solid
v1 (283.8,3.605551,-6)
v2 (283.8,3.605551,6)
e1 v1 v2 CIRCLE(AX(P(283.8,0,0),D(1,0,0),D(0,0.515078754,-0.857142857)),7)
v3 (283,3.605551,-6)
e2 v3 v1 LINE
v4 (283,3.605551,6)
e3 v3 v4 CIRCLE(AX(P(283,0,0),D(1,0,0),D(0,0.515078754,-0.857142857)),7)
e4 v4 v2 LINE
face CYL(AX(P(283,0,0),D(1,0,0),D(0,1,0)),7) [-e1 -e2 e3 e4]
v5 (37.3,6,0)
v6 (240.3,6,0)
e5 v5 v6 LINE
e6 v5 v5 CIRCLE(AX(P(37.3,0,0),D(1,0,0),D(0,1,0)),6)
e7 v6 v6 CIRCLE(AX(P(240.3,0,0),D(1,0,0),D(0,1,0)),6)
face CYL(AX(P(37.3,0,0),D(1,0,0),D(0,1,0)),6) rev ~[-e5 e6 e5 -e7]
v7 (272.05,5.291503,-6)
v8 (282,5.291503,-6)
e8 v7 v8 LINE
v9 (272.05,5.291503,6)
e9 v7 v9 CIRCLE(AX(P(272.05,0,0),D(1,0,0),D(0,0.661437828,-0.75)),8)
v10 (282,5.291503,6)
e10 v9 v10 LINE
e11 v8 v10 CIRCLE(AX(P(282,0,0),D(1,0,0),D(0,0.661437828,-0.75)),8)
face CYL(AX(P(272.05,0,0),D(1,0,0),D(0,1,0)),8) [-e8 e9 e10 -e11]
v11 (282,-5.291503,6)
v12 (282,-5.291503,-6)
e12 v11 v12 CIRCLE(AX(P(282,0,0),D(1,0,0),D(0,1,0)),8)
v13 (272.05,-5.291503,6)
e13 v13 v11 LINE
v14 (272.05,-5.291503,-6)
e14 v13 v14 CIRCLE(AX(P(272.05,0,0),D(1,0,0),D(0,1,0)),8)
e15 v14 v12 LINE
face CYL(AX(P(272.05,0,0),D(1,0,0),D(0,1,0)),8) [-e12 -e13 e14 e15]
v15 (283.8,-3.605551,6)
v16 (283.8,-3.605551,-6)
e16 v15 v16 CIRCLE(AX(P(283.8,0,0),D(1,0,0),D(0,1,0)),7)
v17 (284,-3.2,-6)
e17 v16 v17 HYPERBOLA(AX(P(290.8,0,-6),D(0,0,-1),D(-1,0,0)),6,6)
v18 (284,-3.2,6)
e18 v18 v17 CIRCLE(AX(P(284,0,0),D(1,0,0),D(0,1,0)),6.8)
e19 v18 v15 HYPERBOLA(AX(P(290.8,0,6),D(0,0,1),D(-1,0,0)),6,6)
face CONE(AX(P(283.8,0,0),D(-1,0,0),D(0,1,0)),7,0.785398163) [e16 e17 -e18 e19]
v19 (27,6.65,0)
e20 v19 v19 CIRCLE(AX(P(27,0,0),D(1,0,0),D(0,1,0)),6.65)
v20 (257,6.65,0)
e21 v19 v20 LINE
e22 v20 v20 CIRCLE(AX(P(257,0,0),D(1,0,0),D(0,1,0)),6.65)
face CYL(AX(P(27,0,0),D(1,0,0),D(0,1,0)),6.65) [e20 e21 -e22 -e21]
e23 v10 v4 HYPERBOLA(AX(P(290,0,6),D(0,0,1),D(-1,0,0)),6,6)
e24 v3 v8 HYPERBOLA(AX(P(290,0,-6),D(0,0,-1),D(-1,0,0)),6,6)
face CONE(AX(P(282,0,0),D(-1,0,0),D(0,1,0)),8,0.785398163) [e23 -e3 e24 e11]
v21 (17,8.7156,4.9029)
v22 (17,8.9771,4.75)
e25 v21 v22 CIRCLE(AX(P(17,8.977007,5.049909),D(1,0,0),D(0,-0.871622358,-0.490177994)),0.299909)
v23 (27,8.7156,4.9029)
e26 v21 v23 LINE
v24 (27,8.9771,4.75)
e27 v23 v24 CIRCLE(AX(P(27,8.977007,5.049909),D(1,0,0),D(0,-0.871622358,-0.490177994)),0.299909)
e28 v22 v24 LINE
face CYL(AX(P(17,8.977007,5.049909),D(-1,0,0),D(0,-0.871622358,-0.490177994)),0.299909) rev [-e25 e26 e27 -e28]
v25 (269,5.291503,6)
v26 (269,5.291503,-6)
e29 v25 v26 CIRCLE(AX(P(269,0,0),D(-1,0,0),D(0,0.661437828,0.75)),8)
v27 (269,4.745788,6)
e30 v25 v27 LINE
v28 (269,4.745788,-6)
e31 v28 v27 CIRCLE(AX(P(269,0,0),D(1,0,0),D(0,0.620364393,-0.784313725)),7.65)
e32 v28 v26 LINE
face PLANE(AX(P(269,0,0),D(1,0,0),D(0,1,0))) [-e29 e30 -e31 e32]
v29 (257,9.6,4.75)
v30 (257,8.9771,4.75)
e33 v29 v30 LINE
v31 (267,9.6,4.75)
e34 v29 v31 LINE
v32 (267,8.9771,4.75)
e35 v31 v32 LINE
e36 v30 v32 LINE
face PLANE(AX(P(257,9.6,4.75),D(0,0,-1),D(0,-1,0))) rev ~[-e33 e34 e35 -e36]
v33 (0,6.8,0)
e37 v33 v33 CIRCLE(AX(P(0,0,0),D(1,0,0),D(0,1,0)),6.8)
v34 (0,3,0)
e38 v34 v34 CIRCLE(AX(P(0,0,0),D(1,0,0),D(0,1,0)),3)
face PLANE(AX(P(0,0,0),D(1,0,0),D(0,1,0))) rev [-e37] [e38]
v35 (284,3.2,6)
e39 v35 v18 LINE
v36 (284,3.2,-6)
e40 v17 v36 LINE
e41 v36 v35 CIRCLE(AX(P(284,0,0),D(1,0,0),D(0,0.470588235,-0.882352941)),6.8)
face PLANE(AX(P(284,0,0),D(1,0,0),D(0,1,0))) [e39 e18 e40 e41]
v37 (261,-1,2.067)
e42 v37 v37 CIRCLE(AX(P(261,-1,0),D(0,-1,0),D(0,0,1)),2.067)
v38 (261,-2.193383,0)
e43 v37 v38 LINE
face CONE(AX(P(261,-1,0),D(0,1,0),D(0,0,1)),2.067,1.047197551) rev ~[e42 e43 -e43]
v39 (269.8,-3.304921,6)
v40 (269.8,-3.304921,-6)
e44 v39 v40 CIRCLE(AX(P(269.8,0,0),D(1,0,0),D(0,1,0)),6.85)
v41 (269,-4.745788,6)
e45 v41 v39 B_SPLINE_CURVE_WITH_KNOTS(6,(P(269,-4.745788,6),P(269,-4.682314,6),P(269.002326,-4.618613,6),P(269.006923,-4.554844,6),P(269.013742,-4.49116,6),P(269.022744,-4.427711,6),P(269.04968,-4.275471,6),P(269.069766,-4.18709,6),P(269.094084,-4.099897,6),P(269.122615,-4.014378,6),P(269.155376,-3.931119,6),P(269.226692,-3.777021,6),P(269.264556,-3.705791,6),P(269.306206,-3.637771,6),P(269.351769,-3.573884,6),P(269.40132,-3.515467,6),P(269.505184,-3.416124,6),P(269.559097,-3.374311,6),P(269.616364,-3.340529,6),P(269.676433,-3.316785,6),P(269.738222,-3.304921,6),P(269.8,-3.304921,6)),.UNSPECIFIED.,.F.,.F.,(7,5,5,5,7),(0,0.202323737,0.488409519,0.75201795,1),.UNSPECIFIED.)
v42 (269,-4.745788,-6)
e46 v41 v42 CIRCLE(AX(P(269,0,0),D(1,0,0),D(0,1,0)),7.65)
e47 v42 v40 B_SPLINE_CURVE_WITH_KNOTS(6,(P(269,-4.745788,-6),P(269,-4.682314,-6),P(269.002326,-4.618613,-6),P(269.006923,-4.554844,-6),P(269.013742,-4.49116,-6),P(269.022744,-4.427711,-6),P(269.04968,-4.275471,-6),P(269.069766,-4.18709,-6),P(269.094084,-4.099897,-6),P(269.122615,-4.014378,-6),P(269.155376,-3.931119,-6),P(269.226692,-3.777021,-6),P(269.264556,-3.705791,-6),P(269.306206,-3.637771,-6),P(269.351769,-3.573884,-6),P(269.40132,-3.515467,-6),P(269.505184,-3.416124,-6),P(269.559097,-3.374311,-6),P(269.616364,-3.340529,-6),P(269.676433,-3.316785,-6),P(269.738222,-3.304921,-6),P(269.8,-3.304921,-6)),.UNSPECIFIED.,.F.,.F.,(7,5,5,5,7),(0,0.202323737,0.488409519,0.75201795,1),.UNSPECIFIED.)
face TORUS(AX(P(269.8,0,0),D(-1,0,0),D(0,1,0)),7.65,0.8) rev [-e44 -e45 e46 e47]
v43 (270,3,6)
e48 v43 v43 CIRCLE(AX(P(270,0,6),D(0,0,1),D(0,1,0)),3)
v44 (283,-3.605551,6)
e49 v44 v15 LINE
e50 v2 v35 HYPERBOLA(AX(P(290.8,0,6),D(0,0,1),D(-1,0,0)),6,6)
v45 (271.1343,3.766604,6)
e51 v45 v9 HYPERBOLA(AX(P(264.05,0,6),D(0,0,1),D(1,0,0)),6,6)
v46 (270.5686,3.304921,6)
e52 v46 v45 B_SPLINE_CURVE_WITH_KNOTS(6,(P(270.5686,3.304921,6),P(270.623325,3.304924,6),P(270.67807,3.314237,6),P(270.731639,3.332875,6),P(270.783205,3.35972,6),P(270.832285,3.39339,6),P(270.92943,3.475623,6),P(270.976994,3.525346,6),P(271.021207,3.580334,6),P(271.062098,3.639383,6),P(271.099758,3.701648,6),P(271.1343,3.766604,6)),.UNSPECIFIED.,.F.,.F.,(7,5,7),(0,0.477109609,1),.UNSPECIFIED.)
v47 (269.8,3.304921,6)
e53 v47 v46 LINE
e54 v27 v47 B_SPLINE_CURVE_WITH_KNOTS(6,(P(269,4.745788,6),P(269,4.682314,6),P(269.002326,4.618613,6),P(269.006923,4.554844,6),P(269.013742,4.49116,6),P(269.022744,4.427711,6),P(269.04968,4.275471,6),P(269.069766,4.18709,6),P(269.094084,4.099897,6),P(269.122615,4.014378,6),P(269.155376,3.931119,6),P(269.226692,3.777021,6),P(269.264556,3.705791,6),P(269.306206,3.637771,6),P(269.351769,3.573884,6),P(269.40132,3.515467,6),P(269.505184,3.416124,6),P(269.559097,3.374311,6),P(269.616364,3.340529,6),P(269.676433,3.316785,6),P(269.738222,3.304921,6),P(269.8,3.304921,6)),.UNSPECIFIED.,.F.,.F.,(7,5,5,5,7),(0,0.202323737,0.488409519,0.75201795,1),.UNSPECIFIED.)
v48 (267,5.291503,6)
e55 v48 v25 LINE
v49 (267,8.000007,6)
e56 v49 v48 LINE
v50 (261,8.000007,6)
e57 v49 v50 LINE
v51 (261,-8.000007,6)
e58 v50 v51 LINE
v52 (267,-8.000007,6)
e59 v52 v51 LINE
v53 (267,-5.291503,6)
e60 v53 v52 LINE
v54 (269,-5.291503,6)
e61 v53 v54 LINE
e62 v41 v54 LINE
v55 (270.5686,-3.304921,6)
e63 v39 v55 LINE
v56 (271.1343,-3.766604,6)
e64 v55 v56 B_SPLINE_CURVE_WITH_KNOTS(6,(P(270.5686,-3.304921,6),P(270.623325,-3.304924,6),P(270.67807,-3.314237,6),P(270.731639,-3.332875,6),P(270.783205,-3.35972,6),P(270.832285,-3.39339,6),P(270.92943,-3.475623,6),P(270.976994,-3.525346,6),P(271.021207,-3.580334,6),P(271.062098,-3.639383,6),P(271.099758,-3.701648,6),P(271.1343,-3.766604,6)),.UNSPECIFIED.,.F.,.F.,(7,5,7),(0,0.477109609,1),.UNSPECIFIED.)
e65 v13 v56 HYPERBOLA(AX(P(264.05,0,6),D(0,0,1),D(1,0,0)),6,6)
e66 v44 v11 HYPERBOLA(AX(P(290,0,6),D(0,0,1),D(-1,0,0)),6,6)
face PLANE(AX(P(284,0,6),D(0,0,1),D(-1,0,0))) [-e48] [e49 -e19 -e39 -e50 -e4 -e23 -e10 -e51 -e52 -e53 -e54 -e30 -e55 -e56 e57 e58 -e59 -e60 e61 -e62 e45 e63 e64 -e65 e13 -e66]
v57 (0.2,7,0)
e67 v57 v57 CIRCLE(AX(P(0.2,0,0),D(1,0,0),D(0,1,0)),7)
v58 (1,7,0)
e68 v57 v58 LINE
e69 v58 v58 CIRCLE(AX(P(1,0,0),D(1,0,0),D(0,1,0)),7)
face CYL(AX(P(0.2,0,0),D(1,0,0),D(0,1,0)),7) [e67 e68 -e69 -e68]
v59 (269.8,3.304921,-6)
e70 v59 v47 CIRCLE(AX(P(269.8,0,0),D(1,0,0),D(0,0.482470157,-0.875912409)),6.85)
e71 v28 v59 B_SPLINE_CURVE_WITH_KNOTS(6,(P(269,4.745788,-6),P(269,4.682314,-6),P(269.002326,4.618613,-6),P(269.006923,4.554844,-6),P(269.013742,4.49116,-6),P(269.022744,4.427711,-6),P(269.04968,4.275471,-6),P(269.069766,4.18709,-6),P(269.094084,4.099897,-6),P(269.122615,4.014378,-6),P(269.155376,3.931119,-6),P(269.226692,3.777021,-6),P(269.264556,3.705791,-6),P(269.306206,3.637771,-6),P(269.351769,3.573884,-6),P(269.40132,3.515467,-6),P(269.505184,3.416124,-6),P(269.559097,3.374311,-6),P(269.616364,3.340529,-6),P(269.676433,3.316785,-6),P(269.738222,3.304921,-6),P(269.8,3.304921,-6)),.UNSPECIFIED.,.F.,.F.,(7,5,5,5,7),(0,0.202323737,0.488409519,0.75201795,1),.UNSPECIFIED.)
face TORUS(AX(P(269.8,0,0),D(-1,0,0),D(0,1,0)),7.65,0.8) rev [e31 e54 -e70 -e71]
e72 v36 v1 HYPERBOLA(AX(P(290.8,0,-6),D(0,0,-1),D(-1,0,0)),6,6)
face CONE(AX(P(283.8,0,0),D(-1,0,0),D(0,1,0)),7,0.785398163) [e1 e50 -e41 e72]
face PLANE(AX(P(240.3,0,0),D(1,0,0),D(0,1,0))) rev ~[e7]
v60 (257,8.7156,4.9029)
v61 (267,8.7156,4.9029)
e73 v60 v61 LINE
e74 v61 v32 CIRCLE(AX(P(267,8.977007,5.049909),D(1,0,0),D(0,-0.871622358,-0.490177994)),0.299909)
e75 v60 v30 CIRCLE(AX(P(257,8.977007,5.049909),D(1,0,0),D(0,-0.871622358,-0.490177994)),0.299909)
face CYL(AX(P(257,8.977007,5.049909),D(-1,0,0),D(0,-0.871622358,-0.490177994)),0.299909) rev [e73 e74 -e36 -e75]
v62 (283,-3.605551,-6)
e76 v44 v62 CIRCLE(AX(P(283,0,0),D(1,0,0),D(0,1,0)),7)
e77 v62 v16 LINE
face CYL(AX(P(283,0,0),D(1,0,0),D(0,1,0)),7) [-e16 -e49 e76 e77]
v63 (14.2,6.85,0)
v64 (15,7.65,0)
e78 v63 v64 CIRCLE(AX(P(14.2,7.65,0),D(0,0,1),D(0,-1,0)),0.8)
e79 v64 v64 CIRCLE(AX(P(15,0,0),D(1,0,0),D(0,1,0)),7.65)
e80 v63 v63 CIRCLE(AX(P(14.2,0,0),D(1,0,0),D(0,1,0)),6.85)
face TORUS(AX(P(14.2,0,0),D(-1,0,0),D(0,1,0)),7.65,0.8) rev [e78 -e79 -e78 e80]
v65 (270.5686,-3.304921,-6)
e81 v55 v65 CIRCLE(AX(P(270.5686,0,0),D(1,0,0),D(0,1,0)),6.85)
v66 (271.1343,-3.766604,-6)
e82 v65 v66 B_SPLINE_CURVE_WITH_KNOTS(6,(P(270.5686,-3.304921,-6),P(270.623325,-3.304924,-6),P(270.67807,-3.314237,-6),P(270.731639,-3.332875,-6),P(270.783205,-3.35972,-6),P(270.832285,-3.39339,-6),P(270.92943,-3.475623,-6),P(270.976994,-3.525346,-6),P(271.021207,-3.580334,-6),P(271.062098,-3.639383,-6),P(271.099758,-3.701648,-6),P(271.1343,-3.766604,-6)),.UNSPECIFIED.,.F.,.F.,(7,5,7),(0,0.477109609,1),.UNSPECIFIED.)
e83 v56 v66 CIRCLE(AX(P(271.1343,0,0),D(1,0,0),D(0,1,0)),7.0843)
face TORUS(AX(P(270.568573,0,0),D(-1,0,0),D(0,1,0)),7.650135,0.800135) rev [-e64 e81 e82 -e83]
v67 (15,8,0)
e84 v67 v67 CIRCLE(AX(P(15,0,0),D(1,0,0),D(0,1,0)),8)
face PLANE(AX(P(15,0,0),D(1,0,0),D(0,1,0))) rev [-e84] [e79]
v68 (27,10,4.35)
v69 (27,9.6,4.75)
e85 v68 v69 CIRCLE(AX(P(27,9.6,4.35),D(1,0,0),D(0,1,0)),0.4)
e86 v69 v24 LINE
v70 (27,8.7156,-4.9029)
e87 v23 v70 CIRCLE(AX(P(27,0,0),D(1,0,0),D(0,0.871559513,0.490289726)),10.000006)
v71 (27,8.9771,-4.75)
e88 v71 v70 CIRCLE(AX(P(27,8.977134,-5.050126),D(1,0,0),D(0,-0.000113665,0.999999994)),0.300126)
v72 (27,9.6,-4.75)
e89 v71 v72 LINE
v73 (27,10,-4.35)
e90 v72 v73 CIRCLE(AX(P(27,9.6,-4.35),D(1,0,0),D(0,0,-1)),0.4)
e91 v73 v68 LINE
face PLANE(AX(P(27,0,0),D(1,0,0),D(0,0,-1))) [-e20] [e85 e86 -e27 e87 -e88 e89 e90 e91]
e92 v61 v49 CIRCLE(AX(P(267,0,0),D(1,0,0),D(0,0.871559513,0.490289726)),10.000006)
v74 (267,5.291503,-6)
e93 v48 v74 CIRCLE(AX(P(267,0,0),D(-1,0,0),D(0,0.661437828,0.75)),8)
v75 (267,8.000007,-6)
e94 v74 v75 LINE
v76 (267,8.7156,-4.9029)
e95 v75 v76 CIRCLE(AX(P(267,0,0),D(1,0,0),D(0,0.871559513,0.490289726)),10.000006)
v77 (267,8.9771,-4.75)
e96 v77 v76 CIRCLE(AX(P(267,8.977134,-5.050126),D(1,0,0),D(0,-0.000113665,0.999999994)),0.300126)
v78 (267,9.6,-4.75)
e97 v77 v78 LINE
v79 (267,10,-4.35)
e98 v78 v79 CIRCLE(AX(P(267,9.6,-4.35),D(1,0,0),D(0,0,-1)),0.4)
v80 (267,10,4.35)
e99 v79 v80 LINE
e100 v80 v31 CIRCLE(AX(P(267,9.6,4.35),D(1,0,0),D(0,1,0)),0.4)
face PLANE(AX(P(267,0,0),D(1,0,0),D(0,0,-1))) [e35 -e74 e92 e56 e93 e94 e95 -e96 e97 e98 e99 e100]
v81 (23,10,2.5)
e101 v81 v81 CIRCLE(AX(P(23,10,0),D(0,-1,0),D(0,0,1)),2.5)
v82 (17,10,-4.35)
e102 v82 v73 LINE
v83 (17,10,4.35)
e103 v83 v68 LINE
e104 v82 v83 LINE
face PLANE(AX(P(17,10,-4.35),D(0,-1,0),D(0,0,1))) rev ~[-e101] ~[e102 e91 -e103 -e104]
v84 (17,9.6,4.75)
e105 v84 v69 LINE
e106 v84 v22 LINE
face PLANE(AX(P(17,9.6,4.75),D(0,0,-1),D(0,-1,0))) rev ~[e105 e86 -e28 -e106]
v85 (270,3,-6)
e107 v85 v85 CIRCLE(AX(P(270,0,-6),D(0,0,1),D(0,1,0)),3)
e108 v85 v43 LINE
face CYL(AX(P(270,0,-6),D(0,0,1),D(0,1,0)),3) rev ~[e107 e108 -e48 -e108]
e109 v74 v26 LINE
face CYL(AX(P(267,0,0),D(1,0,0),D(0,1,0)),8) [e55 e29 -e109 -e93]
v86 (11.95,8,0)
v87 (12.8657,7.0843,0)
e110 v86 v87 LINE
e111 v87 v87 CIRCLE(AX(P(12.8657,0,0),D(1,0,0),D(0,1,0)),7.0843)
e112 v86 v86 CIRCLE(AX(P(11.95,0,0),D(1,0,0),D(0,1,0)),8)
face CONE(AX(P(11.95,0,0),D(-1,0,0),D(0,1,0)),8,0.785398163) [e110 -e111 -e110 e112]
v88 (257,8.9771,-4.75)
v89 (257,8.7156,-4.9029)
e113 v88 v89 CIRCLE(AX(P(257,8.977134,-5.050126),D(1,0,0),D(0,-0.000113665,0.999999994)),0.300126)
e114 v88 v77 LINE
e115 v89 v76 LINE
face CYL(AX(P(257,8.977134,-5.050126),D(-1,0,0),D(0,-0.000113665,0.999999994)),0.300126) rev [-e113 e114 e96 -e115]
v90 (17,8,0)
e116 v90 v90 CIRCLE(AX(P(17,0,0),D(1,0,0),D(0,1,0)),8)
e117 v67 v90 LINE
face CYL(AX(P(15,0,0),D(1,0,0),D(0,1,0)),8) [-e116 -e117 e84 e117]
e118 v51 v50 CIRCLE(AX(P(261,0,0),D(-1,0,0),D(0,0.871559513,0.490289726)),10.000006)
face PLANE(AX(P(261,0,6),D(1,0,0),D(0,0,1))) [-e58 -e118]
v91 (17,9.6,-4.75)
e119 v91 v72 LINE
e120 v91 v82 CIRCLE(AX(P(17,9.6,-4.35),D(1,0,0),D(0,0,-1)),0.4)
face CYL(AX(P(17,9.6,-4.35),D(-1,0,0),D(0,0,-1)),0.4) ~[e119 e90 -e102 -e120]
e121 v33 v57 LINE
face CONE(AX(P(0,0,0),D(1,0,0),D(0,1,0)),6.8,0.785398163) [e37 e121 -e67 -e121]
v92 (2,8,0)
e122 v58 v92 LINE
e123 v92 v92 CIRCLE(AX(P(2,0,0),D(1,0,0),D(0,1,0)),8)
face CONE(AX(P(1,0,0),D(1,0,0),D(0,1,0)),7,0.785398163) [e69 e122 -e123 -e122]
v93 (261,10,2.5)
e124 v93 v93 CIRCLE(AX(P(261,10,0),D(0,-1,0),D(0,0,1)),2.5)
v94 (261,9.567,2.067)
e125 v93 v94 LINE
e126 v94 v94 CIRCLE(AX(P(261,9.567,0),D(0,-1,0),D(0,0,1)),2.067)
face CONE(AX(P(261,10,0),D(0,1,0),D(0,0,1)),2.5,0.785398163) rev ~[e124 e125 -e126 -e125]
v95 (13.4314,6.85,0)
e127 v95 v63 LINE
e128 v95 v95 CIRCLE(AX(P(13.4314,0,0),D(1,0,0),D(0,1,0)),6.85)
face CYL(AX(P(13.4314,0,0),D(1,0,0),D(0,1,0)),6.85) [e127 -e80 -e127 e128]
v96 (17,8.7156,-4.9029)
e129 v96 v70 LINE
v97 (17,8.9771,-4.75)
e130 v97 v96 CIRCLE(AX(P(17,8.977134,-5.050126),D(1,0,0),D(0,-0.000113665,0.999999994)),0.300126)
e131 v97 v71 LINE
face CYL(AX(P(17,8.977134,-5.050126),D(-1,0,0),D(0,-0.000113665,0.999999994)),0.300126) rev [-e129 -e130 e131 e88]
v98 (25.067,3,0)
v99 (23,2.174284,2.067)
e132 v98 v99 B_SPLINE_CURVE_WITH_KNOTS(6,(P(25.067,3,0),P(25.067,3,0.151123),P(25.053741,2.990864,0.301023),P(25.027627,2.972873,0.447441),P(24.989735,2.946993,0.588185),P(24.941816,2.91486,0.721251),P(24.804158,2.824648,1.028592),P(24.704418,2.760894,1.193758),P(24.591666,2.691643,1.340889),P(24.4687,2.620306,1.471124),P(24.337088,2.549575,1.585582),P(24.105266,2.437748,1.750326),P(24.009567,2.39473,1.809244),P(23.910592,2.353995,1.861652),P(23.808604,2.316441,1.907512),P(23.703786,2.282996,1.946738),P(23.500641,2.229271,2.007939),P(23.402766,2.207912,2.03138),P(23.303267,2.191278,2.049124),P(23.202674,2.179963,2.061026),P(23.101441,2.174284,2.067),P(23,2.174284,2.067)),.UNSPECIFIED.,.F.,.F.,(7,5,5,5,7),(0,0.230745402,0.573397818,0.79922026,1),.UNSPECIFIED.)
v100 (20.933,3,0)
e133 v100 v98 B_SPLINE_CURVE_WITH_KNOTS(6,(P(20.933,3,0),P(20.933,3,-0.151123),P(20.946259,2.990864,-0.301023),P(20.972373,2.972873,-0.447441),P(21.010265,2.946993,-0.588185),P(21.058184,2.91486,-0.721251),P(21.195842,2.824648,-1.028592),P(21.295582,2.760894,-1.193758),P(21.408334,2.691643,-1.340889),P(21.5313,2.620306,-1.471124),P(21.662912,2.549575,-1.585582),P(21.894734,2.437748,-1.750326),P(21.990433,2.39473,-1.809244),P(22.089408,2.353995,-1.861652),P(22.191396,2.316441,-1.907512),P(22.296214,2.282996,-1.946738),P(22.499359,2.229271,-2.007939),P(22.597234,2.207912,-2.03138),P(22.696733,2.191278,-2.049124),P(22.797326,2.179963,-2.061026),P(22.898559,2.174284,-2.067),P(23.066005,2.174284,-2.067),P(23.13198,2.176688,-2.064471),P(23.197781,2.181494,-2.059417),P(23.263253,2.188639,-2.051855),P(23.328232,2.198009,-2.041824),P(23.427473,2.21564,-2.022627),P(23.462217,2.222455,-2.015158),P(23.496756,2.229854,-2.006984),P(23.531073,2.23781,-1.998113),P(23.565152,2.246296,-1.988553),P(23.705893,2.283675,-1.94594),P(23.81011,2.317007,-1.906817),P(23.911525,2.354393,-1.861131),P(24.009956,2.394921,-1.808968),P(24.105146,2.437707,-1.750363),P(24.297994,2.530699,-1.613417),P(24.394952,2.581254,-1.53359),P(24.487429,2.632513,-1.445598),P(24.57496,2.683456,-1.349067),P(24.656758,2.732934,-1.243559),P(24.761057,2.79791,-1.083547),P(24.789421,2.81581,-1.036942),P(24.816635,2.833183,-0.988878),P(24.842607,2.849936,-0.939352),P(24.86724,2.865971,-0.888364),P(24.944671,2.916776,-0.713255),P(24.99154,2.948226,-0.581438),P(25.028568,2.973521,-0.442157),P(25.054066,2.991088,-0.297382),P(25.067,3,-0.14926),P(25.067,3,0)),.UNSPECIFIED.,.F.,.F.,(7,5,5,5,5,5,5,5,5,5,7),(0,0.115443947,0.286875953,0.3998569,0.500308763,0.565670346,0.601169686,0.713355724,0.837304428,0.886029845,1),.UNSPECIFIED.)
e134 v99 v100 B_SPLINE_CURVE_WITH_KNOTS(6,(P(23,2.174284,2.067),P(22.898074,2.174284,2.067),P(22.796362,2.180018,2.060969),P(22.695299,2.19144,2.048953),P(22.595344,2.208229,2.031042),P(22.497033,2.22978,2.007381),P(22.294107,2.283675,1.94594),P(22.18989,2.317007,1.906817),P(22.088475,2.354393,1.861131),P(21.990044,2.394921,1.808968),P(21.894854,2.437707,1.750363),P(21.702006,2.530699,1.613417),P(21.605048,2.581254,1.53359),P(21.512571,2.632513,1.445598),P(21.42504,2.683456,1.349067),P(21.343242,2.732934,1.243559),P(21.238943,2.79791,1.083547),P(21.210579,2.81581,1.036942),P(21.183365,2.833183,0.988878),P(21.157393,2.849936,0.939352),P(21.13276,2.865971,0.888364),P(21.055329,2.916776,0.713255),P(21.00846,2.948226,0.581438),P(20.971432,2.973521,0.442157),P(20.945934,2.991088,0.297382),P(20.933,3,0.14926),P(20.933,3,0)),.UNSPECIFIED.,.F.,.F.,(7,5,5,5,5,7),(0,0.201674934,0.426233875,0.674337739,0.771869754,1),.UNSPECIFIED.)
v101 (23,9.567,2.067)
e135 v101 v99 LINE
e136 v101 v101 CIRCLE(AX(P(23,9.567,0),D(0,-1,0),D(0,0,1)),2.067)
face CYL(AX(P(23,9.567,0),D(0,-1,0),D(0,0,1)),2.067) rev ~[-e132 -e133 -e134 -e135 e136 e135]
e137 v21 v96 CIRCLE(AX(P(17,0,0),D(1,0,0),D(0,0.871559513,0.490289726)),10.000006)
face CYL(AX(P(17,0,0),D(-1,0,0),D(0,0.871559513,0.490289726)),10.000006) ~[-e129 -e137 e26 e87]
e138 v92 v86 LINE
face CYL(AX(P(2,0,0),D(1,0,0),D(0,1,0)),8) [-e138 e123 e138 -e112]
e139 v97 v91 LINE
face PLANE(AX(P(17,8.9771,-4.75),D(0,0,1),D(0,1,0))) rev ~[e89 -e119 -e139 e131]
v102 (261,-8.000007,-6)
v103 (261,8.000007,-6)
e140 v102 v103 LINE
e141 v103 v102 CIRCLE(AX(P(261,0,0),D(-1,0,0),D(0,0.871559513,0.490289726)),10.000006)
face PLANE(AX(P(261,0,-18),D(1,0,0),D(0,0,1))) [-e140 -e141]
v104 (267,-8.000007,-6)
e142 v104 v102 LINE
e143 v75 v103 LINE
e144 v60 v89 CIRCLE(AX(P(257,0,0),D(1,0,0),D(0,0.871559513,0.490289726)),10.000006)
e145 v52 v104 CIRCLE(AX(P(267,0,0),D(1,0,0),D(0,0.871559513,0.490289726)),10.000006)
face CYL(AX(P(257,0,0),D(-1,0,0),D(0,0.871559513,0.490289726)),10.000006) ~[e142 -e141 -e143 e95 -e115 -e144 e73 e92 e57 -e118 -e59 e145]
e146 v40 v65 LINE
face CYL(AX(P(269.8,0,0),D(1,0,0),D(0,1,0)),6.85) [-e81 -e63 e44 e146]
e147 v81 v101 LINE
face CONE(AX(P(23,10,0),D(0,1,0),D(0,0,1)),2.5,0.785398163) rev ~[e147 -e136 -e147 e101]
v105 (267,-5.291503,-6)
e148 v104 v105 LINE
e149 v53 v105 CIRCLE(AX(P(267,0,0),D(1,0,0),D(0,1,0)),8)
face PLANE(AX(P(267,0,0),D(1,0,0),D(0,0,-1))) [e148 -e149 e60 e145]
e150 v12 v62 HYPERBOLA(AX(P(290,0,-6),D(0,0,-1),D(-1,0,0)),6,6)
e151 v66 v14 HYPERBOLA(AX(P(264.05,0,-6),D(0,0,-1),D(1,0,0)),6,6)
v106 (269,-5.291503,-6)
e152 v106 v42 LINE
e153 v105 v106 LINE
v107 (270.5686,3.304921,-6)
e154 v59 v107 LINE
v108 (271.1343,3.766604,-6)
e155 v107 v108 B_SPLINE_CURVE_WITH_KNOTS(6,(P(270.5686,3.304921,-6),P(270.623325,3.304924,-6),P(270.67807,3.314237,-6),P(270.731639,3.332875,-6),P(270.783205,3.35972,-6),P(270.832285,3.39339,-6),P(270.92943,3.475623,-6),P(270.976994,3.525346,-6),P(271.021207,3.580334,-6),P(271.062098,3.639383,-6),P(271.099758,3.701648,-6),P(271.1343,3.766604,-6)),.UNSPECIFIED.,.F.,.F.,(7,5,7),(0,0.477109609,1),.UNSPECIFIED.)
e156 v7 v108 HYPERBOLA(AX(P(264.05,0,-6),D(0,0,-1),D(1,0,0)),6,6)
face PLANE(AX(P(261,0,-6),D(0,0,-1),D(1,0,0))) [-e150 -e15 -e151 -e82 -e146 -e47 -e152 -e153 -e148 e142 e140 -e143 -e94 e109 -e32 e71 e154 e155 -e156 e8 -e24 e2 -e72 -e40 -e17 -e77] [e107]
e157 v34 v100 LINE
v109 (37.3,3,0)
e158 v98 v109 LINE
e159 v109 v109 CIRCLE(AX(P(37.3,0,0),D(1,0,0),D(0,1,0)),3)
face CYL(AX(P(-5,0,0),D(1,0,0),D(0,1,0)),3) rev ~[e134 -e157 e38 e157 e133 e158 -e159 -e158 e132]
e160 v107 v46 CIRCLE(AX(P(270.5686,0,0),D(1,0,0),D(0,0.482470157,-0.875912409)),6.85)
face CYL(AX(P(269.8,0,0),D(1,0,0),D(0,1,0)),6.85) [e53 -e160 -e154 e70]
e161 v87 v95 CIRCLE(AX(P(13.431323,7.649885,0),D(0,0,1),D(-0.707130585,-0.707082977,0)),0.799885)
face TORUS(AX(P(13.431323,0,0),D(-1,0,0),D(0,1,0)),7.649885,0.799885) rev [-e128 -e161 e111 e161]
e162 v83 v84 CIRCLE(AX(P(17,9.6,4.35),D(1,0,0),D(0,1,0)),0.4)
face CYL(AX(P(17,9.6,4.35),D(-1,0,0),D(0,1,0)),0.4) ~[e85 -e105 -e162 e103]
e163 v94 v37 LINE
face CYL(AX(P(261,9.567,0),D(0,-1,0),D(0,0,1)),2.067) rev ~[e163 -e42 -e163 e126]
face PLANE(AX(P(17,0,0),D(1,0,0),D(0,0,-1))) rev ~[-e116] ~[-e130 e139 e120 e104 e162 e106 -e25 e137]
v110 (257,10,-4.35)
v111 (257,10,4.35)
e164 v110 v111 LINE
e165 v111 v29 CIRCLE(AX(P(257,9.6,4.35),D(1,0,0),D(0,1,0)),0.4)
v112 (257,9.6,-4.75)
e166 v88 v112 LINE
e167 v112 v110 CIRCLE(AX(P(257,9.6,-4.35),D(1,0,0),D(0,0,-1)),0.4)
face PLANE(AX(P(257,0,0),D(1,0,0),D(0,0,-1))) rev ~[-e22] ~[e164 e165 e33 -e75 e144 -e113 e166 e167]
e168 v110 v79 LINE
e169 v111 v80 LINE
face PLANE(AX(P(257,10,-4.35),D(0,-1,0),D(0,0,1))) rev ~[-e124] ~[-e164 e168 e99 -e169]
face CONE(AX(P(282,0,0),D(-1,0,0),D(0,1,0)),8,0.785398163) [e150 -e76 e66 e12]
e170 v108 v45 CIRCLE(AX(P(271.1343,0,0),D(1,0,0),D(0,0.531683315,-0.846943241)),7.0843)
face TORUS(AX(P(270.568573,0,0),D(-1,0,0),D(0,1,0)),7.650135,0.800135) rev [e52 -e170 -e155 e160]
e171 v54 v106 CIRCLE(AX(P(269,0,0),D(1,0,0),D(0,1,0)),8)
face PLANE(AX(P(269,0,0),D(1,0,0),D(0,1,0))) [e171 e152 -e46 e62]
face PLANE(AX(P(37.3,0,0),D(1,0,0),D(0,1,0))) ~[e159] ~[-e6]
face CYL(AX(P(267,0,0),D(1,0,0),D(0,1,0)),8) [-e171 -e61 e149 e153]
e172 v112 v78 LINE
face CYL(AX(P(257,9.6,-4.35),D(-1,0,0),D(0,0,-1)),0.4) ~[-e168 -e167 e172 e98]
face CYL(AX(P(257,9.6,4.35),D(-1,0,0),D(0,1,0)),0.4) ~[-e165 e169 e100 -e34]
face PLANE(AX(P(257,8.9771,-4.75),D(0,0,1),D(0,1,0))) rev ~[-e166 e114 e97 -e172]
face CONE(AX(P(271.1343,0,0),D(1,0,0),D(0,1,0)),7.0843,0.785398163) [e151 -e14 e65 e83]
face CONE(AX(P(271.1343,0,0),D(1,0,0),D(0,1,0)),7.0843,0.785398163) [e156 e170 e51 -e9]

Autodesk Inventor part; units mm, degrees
sketch "Sketch_1" plane through (0, 0, 0) normal (0, 0, 1) x (1, 0, 0)
  line L0 (17, 0) -> (0, 0)
  line L1 (0, 0) -> (0, 6.8)
  line L2 (0, 6.8) -> (0.2, 7)
  line L3 (0.2, 7) -> (1, 7)
  line L4 (1, 7) -> (2, 8)
  line L5 (2, 8) -> (11.95, 8)
  line L6 (11.95, 8) -> (12.8657, 7.0843)
  arc A0 (12.8657, 7.0843) -> (13.4314, 6.85) centre (13.4314, 7.65) ccw
  line L7 (13.4314, 6.85) -> (14.2, 6.85)
  arc A1 (14.2, 6.85) -> (15, 7.65) centre (14.2, 7.65) ccw
  line L8 (15, 7.65) -> (15, 8)
  line L9 (15, 8) -> (17, 8)
  line L10 (17, 8) -> (17, 0)
  line L11 (17, 0) -> (0, 0)
revolve "Revolution1" add sketch "Sketch_1" angle 360 about axis through (17, 0, 0) along (1, 0, 0)
thread "Thread1" size "M16x1.5" class "6g" standard "ISO Metric profile" full length
sketch "Sketch_2" plane through (17, 0, 0) normal (1, 0, 0) x (0, 0, -1)
  arc A0 (-4.9029, 8.7156) -> (4.9029, 8.7156) centre (0, 0) ccw
  arc A1 (4.75, 8.9771) -> (4.9029, 8.7156) centre (5.05, 8.9771) ccw
  line L0 (4.75, 8.9771) -> (4.75, 9.6)
  arc A2 (4.75, 9.6) -> (4.35, 10) centre (4.35, 9.6) ccw
  line L1 (4.35, 10) -> (-4.35, 10)
  arc A3 (-4.35, 10) -> (-4.75, 9.6) centre (-4.35, 9.6) ccw
  line L2 (-4.75, 9.6) -> (-4.75, 8.9771)
  arc A4 (-4.9029, 8.7156) -> (-4.75, 8.9771) centre (-5.05, 8.9771) ccw
extrude "Extrusion1" add sketch "Sketch_2" along normal blind 10
sketch "Sketch_3" plane through (0, 0, 0) normal (0, 0, 1) x (1, 0, 0)
  line L0 (257, 0) -> (27, 0)
  line L1 (27, 0) -> (27, 6.65)
  line L2 (27, 6.65) -> (257, 6.65)
  line L3 (257, 6.65) -> (257, 0)
  line L4 (257, 0) -> (27, 0)
revolve "Revolution2" add sketch "Sketch_3" angle 360 about axis through (257, 0, 0) along (1, 0, 0)
sketch "Sketch_16" plane through (257, 0, 0) normal (1, 0, 0) x (0, 0, -1)
  arc A0 (-4.9029, 8.7156) -> (4.9029, 8.7156) centre (0, 0) ccw
  arc A1 (4.75, 8.9771) -> (4.9029, 8.7156) centre (5.05, 8.9771) ccw
  line L0 (4.75, 8.9771) -> (4.75, 9.6)
  arc A2 (4.75, 9.6) -> (4.35, 10) centre (4.35, 9.6) ccw
  line L1 (4.35, 10) -> (-4.35, 10)
  arc A3 (-4.35, 10) -> (-4.75, 9.6) centre (-4.35, 9.6) ccw
  line L2 (-4.75, 9.6) -> (-4.75, 8.9771)
  arc A4 (-4.9029, 8.7156) -> (-4.75, 8.9771) centre (-5.05, 8.9771) ccw
extrude "Extrusion2" add sketch "Sketch_16" along normal blind 10
sketch "Sketch_23" plane through (0, 0, 0) normal (0, 0, 1) x (1, 0, 0)
  line L0 (284, 0) -> (267, 0)
  line L1 (267, 0) -> (267, 8)
  line L2 (267, 8) -> (269, 8)
  line L3 (269, 8) -> (269, 7.65)
  arc A0 (269, 7.65) -> (269.8, 6.85) centre (269.8, 7.65) ccw
  line L4 (269.8, 6.85) -> (270.5686, 6.85)
  arc A1 (270.5686, 6.85) -> (271.1343, 7.0843) centre (270.5686, 7.65) ccw
  line L5 (271.1343, 7.0843) -> (272.05, 8)
  line L6 (272.05, 8) -> (282, 8)
  line L7 (282, 8) -> (283, 7)
  line L8 (283, 7) -> (283.8, 7)
  line L9 (283.8, 7) -> (284, 6.8)
  line L10 (284, 6.8) -> (284, 0)
  line L11 (284, 0) -> (267, 0)
revolve "Revolution3" add sketch "Sketch_23" angle 360 about axis through (284, 0, 0) along (1, 0, 0)
thread "Thread2" size "M16x1.5" class "6g" standard "ISO Metric profile" full length
sketch "Sketch_6" plane through (0, 0, 0) normal (0, 1, 0) x (-1, 0, 0)
  line L0 (-261, -18) -> (-261, -6)
  line L1 (-261, -6) -> (-284, -6)
  line L2 (-284, -6) -> (-284, 6)
  line L3 (-284, 6) -> (-261, 6)
  line L4 (-261, 6) -> (-261, 18)
  line L5 (-261, 18) -> (-296, 18)
  line L6 (-296, 18) -> (-296, -18)
  line L7 (-296, -18) -> (-261, -18)
extrude "Extrusion3" cut sketch "Sketch_6" along normal mid plane 20
sketch "Sketch7" plane through (282, -5.2915, -6) normal (0, 0, -1) x (-1, 0, 0)
  point P0 (12, 5.2915)
hole "Hole1" at (270, 0, -6) direction (0, 0, 1) diameter 6 depth 12
sketch "Sketch8" plane through (17, 10, 4.35) normal (0, 1, 0) x (1, 0, 0)
  point P0 (6, 4.35)
hole "Hole2" at (23, 10, 0) direction (0, -1, 0) diameter 4.134 depth 10 countersink diameter 5 countersink angle 90 thread size "M5x0.8" class "6H" standard "ISO Metric profile"
sketch "Sketch9" plane through (257, 10, 4.35) normal (0, 1, 0) x (1, 0, 0)
  point P0 (4, 4.35)
hole "Hole3" at (261, 10, 0) direction (0, -1, 0) diameter 4.134 depth 11 tip angle 120 countersink diameter 5 countersink angle 90 thread size "M5x0.8" class "6H" standard "ISO Metric profile"
sketch "Sketch_64" plane through (0, 0, 0) normal (0, 0, 1) x (1, 0, 0)
  line L0 (240.3, 0) -> (-5, 0)
  line L1 (-5, 0) -> (-5, 3)
  line L2 (-5, 3) -> (37.3, 3)
  line L3 (37.3, 3) -> (37.3, 6)
  line L4 (37.3, 6) -> (240.3, 6)
  line L5 (240.3, 6) -> (240.3, 0)
  line L6 (240.3, 0) -> (-5, 0)
revolve "Revolution4" cut sketch "Sketch_64" angle 360 about axis through (240.3, 0, 0) along (1, 0, 0)
ref_plane "FDT_FRONT_XY" through (17, 0, 0) normal (1, 0, 0) x (0, 0, -1)
ref_plane "FDT_FRONT_YZ" through (17, 0, 0) normal (0, 0, -1) x (0, 1, 0)
ref_plane "FDT_FRONT_ZX" through (17, 0, 0) normal (0, 1, 0) x (1, 0, 0)
ref_plane "FDT_QSFRONT_XY" through (23, 10, 0) normal (0, 1, 0) x (0, 0, 1)
ref_plane "FDT_QSFRONT_YZ" through (23, 10, 0) normal (0, 0, 1) x (1, 0, 0)
ref_plane "FDT_QSFRONT_ZX" through (23, 10, 0) normal (1, 0, 0) x (0, 1, 0)
ref_plane "FDT_QSREAR_XY" through (261, 10, 0) normal (0, 1, 0) x (0, 0, 1)
ref_plane "FDT_QSREAR_YZ" through (261, 10, 0) normal (0, 0, 1) x (1, 0, 0)
ref_plane "FDT_QSREAR_ZX" through (261, 10, 0) normal (1, 0, 0) x (0, 1, 0)
ref_plane "FDT_REAR_XY" through (267, 0, 0) normal (-1, 0, 0) x (0, 0, -1)
ref_plane "FDT_REAR_YZ" through (267, 0, 0) normal (0, 0, -1) x (0, -1, 0)
ref_plane "FDT_REAR_ZX" through (267, 0, 0) normal (0, -1, 0) x (-1, 0, 0)
ref_plane "FDT_SMBR1_XY" through (36.5, 0, 0) normal (-1, 0, 0) x (0, 0, 1)
ref_plane "FDT_SMBR1_YZ" through (36.5, 0, 0) normal (0, 0, 1) x (0, 1, 0)
ref_plane "FDT_SMBR1_ZX" through (36.5, 0, 0) normal (0, 1, 0) x (-1, 0, 0)
ref_plane "FDT_SMBR2_XY" through (247.5, 0, 0) normal (-1, 0, 0) x (0, 0, 1)
ref_plane "FDT_SMBR2_YZ" through (247.5, 0, 0) normal (0, 0, 1) x (0, 1, 0)
ref_plane "FDT_SMBR2_ZX" through (247.5, 0, 0) normal (0, 1, 0) x (-1, 0, 0)
ref_plane "FDT_SWIVELAXIS_XY" through (270, 0, 0) normal (0, 0, 1) x (1, 0, 0)
ref_plane "FDT_SWIVELAXIS_YZ" through (270, 0, 0) normal (1, 0, 0) x (0, 1, 0)
ref_plane "FDT_SWIVELAXIS_ZX" through (270, 0, 0) normal (0, 1, 0) x (0, 0, 1)
ref_plane "NUT_XY" through (8, 0, 0) normal (1, 0, 0) x (0, 0, -1)
ref_plane "NUT_YZ" through (8, 0, 0) normal (0, 0, -1) x (0, 1, 0)
ref_plane "NUT_ZX" through (8, 0, 0) normal (0, 1, 0) x (1, 0, 0)
ref_plane "ZR_XY" through (0, 0, 0) normal (1, 0, 0) x (0, 0, -1)
ref_plane "ZR_YZ" through (0, 0, 0) normal (0, 0, -1) x (0, 1, 0)
ref_plane "ZR_ZX" through (0, 0, 0) normal (0, 1, 0) x (1, 0, 0)
ref_plane "ZYL_XY" through (17, 0, 0) normal (1, 0, 0) x (0, 0, -1)
ref_plane "ZYL_YZ" through (17, 0, 0) normal (0, 0, -1) x (0, 1, 0)
ref_plane "ZYL_ZX" through (17, 0, 0) normal (0, 1, 0) x (1, 0, 0)
properties part number "19197 DSNU-12-200-P---(A----0-ZR)"
